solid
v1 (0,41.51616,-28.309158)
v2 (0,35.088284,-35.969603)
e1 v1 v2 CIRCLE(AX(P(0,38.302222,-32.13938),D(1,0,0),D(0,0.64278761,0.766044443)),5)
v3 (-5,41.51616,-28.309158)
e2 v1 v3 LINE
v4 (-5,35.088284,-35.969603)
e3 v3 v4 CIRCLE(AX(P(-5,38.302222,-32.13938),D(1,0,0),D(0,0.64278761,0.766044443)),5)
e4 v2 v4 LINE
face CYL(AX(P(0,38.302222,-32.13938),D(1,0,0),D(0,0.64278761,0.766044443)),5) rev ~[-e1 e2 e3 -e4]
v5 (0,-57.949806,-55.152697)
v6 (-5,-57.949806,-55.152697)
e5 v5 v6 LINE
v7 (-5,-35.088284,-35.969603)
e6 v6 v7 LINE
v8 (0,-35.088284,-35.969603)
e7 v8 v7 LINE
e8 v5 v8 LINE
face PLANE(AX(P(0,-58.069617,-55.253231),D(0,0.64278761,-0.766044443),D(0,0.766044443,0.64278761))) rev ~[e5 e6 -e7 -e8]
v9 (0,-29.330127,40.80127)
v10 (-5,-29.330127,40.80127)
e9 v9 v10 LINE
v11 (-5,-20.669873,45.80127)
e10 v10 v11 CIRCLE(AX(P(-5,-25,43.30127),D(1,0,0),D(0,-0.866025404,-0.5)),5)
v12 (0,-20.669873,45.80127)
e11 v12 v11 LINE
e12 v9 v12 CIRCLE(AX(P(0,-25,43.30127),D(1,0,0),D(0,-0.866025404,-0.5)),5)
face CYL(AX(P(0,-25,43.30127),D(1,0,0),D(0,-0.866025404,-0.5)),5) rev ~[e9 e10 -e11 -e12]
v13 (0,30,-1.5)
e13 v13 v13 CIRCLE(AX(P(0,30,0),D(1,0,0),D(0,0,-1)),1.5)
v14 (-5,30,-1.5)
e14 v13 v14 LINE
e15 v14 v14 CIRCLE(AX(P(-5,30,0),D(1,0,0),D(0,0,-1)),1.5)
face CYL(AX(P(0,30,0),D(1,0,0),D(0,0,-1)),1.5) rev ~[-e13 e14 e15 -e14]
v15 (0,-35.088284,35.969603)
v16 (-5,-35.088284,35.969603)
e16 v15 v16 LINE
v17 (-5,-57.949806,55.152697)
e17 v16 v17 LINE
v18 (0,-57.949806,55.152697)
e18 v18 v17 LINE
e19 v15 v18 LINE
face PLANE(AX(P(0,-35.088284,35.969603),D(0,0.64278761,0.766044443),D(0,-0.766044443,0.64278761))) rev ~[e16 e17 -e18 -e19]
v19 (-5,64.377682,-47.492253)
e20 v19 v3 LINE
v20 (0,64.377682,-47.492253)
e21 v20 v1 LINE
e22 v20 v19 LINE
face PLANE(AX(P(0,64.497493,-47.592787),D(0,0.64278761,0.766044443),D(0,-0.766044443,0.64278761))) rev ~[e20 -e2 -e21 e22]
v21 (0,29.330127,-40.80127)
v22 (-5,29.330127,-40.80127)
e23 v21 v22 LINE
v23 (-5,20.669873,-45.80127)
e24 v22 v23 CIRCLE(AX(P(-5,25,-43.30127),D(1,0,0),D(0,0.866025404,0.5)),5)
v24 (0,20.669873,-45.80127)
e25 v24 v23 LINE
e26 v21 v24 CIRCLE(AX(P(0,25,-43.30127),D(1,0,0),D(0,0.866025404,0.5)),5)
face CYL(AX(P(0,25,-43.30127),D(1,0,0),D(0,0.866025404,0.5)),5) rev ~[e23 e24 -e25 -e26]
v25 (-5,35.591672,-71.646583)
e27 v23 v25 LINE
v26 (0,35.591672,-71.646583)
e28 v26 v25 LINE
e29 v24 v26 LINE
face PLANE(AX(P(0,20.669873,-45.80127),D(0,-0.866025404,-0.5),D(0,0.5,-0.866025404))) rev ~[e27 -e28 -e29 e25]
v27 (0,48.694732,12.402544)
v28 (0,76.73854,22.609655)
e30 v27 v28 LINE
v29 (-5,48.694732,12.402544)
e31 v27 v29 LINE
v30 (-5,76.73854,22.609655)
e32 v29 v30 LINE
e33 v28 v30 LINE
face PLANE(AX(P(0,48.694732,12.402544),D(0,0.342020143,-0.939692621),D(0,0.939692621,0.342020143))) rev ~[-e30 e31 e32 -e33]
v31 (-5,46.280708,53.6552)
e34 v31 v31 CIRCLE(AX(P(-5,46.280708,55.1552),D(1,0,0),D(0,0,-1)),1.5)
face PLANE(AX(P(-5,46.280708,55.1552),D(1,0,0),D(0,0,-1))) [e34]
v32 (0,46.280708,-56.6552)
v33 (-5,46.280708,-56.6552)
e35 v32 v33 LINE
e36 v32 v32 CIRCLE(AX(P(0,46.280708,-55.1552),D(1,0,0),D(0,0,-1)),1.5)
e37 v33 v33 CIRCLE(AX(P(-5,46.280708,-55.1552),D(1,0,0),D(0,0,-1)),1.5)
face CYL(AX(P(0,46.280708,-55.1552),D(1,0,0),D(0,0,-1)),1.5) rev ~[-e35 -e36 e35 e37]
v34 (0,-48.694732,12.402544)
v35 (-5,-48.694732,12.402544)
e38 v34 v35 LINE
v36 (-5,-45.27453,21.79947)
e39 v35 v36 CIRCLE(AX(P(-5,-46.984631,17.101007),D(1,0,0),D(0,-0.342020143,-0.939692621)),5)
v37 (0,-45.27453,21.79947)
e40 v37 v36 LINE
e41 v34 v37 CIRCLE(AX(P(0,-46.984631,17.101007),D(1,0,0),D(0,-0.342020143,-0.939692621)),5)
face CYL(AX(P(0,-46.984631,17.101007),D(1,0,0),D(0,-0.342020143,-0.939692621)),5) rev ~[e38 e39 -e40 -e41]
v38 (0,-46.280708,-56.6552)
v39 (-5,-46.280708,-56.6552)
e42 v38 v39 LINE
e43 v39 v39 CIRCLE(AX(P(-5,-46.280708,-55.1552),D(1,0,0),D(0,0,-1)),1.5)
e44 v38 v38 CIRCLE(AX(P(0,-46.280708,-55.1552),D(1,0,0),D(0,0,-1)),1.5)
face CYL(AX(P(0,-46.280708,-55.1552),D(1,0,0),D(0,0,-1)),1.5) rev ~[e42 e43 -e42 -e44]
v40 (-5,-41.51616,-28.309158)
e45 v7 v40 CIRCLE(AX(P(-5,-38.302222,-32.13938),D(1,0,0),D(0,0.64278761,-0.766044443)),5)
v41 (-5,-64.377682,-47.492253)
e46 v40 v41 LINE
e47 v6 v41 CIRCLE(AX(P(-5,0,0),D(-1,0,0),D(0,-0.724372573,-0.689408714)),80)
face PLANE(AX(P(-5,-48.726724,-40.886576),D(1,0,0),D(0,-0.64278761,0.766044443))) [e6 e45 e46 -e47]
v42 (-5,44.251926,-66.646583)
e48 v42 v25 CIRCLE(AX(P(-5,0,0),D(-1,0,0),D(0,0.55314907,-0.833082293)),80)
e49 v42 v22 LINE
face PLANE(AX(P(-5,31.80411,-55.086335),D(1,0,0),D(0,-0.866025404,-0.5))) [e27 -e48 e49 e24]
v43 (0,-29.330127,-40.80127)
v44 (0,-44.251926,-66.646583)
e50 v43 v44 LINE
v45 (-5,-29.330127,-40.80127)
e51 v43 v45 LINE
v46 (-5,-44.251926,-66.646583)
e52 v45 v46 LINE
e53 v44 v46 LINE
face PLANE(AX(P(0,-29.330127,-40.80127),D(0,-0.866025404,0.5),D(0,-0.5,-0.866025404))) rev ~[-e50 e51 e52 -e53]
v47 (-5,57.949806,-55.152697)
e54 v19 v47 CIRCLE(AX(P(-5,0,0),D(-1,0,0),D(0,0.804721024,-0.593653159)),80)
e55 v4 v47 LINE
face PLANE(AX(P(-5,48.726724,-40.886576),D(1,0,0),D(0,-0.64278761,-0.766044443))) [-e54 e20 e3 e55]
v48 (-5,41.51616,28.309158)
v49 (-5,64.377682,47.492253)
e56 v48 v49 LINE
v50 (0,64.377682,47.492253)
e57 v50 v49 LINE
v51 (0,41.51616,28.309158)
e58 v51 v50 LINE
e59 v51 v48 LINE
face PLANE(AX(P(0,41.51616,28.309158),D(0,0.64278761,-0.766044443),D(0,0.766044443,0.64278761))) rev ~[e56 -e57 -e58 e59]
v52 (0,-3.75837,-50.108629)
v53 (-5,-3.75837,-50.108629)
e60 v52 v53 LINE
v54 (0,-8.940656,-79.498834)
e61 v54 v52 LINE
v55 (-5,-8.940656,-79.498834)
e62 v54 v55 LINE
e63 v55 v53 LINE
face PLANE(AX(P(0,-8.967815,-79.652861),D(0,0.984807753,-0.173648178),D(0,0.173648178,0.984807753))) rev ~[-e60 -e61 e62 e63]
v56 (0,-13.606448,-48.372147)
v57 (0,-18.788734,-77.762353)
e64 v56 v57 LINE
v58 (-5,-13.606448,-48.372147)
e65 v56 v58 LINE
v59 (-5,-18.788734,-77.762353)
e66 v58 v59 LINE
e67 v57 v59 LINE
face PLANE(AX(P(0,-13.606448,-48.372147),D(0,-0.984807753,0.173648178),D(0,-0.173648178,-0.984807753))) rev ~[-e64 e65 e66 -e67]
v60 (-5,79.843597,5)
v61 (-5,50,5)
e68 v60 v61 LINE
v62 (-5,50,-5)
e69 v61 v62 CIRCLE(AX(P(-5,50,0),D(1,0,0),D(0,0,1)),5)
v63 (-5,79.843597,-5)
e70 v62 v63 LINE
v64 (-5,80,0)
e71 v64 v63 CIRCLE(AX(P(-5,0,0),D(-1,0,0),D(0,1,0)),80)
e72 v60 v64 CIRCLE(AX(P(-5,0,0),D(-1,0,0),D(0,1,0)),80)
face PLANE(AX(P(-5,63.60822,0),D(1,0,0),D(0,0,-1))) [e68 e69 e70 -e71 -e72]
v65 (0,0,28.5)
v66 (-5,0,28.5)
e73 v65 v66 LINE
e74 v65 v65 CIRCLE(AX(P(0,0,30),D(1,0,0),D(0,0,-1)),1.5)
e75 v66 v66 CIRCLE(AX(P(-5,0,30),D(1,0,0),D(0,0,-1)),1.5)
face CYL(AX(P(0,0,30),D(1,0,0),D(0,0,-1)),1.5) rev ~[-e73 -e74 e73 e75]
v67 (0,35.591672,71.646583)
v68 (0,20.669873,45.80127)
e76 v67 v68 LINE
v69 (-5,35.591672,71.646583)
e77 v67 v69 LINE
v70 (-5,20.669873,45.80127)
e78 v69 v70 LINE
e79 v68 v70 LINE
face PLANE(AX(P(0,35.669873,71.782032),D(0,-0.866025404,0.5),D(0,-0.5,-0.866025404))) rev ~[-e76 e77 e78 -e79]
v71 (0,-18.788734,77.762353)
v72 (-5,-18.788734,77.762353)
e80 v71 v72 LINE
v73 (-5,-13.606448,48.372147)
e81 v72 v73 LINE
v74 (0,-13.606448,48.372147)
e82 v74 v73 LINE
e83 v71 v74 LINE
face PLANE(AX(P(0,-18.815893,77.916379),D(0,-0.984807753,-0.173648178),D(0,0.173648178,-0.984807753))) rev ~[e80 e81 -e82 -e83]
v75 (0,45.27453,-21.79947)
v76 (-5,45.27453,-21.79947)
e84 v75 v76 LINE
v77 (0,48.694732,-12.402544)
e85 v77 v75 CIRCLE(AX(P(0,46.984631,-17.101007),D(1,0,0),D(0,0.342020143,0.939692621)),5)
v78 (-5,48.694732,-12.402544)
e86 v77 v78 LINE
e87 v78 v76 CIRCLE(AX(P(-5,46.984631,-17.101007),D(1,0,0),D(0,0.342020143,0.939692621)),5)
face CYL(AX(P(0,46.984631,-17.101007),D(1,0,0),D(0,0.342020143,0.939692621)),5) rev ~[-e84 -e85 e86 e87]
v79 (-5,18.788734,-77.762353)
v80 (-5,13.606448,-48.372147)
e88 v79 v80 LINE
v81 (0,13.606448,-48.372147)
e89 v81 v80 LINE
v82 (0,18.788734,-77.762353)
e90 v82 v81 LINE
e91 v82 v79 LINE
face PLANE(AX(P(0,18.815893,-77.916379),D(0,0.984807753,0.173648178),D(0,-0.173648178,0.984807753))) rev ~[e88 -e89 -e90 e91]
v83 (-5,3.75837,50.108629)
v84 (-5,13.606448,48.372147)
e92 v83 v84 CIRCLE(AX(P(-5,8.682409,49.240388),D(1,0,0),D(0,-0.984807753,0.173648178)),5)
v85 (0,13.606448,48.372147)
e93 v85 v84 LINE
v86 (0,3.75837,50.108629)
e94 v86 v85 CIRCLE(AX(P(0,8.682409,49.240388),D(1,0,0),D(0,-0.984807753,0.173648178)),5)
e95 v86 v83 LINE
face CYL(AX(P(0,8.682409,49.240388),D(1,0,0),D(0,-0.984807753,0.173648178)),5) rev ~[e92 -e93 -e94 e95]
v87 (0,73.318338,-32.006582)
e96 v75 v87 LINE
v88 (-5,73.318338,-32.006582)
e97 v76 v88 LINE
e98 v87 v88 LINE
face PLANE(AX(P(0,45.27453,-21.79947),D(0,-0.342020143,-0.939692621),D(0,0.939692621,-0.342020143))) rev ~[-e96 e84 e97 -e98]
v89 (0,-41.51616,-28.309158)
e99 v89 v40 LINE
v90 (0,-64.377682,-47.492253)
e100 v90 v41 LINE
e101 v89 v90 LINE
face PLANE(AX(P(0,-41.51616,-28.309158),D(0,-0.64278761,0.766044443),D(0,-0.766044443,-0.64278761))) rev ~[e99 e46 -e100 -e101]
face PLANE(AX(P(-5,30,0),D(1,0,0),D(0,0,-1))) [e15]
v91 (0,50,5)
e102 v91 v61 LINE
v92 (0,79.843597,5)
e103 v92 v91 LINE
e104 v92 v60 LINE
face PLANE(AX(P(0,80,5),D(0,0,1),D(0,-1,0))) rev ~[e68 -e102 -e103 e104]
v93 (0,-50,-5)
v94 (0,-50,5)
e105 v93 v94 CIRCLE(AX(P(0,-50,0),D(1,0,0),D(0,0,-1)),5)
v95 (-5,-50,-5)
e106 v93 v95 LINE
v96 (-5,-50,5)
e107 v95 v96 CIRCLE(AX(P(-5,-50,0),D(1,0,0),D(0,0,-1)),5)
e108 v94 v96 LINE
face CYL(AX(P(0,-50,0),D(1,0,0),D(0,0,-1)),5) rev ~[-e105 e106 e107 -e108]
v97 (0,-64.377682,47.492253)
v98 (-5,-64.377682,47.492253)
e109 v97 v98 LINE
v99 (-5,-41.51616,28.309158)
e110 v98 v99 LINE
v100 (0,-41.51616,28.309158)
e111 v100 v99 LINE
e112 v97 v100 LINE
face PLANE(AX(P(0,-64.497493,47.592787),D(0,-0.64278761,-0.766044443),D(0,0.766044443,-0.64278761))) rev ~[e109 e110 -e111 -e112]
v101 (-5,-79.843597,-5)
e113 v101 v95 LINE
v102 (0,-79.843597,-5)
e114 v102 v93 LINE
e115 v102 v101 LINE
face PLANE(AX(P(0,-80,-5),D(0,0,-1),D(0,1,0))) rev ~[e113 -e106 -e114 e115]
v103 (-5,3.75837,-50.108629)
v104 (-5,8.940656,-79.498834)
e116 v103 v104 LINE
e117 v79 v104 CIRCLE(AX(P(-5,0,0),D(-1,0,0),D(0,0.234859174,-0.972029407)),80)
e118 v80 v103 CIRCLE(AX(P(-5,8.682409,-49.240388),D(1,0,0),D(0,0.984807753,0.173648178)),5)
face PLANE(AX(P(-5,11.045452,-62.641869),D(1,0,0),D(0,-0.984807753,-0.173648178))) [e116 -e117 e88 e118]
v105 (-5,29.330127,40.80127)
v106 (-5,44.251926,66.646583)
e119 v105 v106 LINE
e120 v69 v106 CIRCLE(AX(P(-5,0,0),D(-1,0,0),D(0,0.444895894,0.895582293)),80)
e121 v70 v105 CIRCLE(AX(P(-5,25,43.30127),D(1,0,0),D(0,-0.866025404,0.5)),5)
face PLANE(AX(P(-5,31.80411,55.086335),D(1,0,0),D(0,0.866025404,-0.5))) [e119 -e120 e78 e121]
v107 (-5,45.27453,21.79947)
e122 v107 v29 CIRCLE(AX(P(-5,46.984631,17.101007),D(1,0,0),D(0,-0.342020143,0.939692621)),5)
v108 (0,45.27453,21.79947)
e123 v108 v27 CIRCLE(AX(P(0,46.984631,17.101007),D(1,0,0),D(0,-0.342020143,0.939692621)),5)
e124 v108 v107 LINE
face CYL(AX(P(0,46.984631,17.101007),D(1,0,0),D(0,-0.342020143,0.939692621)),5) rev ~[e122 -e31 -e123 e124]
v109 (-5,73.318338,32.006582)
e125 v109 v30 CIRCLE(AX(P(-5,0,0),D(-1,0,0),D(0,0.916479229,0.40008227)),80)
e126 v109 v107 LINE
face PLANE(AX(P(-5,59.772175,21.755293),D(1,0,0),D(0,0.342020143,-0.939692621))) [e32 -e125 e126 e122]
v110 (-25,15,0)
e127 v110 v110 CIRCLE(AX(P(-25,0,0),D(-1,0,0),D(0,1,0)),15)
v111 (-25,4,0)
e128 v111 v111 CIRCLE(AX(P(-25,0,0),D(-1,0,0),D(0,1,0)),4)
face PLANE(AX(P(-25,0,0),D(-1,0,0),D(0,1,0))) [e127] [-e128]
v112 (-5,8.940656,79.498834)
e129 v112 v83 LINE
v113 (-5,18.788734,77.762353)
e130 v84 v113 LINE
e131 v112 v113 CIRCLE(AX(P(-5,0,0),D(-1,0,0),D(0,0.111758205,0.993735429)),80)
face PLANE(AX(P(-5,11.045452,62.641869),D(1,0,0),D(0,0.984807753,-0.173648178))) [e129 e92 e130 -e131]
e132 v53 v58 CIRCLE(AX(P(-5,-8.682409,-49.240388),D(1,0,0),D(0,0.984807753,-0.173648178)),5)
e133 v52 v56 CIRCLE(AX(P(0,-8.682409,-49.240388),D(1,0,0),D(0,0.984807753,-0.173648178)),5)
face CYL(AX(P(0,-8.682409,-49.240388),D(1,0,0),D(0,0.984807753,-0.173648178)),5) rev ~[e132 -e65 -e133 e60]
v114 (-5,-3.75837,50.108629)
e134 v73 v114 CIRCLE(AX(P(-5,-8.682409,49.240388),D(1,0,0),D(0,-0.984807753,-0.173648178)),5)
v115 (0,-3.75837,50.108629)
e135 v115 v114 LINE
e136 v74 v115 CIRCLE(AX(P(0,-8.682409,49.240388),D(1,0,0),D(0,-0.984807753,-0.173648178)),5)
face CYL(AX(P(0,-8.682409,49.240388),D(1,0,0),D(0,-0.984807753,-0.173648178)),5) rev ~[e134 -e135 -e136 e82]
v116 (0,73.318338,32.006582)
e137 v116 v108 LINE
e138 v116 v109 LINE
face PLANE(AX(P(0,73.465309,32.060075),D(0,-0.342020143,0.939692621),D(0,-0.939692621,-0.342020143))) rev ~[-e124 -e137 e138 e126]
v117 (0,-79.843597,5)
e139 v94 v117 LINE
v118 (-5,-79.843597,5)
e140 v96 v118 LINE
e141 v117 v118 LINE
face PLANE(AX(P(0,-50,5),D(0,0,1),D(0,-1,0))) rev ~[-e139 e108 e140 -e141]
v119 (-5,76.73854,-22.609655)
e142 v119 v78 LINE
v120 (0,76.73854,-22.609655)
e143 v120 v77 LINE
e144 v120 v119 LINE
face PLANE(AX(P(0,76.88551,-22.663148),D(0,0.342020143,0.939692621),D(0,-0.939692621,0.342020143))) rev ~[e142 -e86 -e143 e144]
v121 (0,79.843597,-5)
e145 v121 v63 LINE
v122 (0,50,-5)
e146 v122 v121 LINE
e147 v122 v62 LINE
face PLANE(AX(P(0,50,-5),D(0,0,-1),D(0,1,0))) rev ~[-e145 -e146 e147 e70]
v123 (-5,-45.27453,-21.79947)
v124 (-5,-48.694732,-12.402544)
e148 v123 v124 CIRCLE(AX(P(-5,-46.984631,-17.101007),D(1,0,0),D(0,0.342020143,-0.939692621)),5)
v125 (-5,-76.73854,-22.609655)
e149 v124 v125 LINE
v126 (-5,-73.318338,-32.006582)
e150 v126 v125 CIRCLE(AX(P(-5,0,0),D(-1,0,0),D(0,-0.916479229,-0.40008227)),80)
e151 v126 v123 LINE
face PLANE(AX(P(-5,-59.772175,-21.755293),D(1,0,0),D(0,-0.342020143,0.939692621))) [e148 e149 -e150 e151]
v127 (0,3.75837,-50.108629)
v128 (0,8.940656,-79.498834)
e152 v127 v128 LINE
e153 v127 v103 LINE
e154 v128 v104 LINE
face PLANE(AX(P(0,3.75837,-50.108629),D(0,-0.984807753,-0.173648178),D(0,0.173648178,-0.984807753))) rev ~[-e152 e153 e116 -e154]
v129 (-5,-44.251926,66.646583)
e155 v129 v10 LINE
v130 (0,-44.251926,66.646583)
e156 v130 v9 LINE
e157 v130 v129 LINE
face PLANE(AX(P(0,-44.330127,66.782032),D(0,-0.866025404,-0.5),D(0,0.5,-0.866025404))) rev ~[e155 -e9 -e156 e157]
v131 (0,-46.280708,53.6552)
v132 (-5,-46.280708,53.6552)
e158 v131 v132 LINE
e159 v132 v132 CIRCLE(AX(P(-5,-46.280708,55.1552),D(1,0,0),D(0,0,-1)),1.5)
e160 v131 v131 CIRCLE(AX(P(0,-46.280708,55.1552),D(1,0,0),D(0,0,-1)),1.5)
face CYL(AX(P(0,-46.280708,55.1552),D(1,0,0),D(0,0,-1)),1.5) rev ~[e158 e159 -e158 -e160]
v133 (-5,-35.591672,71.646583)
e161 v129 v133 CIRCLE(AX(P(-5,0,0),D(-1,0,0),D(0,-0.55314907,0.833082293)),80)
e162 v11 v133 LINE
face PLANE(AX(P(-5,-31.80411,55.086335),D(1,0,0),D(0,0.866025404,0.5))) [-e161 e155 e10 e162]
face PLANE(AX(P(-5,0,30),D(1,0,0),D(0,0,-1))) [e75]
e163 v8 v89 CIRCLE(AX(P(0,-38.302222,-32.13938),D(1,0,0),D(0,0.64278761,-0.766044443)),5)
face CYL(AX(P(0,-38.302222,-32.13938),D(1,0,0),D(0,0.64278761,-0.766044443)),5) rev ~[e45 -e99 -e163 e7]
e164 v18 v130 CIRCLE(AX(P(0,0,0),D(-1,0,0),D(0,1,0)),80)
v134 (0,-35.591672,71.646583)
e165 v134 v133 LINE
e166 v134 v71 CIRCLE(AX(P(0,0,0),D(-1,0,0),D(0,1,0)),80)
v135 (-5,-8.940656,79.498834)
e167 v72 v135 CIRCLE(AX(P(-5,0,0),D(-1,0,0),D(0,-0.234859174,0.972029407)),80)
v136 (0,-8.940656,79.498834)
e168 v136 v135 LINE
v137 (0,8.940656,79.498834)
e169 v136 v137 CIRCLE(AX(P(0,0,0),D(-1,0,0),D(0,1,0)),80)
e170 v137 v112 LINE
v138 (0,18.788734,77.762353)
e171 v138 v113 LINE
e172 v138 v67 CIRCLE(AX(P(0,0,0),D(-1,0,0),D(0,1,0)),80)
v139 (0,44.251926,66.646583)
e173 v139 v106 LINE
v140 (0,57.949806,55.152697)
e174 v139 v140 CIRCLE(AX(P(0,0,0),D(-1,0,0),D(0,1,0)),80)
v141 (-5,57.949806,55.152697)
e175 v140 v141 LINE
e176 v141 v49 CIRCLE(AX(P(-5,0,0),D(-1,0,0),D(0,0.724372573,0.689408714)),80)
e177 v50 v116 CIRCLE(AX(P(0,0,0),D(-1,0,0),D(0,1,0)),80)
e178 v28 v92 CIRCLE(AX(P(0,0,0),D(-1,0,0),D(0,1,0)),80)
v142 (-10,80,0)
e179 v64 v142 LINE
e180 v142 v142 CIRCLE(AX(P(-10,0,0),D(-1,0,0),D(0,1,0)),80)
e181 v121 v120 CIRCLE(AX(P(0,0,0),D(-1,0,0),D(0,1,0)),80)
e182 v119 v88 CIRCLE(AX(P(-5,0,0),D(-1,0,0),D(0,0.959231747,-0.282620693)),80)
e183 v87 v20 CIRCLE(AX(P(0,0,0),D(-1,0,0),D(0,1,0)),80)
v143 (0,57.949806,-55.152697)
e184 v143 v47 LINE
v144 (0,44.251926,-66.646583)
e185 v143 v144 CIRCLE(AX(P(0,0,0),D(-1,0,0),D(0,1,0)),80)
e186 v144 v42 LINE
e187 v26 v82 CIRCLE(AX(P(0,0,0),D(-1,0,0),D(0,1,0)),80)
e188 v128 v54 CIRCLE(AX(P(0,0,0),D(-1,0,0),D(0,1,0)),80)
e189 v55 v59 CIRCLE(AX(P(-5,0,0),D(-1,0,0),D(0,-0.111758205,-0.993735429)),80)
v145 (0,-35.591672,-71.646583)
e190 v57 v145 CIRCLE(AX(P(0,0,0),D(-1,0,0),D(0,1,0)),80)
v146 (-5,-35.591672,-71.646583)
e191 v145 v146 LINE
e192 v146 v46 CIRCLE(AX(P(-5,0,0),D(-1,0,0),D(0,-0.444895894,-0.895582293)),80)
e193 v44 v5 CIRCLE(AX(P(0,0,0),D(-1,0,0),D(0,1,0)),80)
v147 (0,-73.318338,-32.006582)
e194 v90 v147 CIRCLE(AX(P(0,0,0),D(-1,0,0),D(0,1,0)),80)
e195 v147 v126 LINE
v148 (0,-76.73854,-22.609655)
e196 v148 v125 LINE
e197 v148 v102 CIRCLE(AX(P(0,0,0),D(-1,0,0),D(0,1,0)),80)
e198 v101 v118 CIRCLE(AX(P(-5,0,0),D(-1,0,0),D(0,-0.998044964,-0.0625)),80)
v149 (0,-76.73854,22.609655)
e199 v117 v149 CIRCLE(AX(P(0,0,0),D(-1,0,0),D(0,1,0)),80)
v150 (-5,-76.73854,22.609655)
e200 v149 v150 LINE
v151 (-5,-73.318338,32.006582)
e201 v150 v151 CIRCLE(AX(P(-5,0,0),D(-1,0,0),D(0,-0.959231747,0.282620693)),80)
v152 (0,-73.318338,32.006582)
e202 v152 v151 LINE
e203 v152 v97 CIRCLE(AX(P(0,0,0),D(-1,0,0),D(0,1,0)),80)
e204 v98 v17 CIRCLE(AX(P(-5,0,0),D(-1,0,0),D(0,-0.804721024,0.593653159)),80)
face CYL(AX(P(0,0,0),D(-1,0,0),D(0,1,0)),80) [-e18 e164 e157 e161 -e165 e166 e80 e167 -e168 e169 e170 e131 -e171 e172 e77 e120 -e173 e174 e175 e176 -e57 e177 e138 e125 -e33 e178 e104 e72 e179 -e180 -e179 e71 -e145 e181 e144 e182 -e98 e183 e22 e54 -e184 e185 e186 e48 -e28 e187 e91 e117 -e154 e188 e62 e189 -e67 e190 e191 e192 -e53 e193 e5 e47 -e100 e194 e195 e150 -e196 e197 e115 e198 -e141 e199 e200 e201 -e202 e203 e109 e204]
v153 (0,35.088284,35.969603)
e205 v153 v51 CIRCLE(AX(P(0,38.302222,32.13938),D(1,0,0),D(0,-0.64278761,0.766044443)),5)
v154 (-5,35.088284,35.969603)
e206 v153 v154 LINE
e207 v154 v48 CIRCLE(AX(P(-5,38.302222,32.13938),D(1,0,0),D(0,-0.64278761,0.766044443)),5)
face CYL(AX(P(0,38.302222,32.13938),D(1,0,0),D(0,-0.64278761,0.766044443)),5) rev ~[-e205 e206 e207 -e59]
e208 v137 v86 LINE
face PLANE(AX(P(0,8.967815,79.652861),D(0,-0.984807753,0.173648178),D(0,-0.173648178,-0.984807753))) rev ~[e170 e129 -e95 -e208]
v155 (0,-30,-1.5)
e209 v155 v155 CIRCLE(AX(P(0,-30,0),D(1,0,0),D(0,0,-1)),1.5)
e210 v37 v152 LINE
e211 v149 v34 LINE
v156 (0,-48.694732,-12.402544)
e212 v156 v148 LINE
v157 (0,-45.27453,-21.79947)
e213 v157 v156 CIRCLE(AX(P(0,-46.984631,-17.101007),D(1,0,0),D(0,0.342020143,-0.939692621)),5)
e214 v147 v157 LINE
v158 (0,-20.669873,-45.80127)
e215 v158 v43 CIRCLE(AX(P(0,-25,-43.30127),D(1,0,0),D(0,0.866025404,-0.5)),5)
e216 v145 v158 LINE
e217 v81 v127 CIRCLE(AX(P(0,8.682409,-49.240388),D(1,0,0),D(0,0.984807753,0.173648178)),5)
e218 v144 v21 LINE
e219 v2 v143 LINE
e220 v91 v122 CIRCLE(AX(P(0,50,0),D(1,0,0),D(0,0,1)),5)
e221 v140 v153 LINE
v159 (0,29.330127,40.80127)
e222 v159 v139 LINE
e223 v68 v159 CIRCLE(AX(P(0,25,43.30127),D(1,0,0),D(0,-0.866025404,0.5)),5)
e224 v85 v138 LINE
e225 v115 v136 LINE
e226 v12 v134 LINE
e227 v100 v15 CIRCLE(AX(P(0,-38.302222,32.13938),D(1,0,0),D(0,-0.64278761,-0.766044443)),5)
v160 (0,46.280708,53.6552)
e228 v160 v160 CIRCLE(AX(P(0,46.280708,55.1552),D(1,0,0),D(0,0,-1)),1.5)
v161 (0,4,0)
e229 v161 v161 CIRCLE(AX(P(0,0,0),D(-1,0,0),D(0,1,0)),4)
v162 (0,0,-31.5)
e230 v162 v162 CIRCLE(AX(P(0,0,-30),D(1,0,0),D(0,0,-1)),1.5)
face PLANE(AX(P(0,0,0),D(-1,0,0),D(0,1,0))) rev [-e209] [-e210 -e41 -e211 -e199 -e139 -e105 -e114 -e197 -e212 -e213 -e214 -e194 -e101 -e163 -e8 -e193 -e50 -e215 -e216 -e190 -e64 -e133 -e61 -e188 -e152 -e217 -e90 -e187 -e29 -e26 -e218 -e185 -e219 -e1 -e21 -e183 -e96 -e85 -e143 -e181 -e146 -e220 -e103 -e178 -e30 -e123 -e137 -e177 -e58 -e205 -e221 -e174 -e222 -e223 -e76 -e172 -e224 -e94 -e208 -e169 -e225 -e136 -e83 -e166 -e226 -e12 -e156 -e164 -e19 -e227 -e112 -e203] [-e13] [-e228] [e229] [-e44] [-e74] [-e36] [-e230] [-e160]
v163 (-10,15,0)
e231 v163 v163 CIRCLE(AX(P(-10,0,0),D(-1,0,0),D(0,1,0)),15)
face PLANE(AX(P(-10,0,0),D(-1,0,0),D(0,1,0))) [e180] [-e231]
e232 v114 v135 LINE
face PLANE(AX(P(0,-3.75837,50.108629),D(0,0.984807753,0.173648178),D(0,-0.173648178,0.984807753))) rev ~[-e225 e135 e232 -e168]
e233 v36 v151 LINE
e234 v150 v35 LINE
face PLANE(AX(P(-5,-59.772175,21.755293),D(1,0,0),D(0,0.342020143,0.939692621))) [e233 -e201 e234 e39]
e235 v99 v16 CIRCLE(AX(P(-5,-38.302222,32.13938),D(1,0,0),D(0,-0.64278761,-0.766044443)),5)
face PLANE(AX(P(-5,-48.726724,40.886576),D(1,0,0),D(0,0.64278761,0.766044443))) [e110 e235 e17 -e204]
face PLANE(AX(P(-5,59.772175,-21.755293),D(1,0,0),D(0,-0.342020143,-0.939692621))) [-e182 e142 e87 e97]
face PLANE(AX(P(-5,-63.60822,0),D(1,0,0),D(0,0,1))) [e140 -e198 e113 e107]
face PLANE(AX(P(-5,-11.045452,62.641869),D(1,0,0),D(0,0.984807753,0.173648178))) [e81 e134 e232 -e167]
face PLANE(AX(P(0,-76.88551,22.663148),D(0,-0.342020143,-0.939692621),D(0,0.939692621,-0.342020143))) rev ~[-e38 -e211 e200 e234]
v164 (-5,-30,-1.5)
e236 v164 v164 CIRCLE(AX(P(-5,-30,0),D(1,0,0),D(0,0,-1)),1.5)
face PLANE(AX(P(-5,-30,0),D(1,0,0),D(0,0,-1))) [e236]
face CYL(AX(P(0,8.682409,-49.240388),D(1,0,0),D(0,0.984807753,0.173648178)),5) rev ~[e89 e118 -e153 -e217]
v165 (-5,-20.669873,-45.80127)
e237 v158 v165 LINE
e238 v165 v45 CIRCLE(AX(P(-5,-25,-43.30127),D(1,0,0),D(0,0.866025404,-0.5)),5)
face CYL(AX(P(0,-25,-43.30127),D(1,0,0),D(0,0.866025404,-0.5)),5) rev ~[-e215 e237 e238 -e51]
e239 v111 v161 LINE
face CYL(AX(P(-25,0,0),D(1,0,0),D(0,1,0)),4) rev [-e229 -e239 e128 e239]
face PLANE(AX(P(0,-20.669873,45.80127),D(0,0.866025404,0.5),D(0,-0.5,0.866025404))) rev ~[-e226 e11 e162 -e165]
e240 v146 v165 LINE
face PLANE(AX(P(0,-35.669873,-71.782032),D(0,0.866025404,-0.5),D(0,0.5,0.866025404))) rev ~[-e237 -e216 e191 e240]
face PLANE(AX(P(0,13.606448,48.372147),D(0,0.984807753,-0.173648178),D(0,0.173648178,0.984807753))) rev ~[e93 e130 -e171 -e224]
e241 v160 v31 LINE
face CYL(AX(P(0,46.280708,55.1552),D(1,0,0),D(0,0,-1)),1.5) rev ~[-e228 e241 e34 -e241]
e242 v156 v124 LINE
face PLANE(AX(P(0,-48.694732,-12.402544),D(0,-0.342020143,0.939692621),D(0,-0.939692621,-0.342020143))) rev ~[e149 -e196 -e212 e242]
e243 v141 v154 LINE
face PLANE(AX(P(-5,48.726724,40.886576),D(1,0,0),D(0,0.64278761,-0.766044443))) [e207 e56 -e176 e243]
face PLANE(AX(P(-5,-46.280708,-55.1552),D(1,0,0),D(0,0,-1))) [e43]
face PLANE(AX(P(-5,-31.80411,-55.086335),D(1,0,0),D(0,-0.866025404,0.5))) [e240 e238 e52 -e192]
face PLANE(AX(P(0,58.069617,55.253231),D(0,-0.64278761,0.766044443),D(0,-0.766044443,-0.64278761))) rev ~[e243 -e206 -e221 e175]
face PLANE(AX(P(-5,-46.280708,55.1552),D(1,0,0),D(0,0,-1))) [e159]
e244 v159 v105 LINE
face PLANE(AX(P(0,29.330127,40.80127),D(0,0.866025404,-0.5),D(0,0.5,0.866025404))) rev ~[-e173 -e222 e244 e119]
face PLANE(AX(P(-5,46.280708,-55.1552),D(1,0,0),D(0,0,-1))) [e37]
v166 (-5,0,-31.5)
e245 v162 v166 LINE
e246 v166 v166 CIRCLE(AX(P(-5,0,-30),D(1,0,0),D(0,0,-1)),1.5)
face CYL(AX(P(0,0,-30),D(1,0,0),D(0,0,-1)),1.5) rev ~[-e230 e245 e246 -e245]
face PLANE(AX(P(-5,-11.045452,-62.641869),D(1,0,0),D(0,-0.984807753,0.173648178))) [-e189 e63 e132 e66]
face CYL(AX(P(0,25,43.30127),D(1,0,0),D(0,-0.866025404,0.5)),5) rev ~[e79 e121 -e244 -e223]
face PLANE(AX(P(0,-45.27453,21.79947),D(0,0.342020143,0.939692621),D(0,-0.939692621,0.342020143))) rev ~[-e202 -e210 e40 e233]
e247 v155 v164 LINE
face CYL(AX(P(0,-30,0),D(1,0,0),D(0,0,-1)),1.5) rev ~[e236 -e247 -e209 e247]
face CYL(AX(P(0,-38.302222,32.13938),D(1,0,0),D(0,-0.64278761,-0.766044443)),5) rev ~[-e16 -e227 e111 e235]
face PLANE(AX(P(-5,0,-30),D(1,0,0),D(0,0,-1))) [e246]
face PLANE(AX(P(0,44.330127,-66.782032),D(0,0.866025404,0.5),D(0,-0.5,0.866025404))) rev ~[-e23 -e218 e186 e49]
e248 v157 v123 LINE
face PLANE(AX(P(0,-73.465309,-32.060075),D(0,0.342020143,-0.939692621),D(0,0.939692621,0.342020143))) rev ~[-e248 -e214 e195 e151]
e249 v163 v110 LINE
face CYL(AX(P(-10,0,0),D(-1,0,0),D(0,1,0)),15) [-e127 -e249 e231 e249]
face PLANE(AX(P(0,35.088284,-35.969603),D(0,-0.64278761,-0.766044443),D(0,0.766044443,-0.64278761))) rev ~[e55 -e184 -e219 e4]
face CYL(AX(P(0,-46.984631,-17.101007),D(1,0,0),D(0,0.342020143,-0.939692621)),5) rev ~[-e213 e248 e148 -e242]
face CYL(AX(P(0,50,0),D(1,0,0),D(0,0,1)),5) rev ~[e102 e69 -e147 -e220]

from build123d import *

# Parameters (mm, degrees)
CUT_EXTRUDE1_DEPTH = 5
CIRPATTERN1_COUNT  = 18
SKETCH4_R          = 1.5
CUT_EXTRUDE3_DEPTH = 5


with BuildPart() as part:
    # Sketch1 → Revolve2 (revolve)
    with BuildSketch(Plane.XY):
        Polygon((0, 4), (0, 80), (-10, 80), (-10, 15), (-25, 15), (-25, 4), align=None)
    revolve(axis=Axis((0, 0, 0), (-1, 0, 0)))

    # Sketch2 → Cut-Extrude1 (cut)
    with BuildSketch(Plane(origin=(0, 0, 0), x_dir=(0, 0, -1), z_dir=(1, 0, 0))):
        with BuildLine():
            Line((5, 50), (5, 80))
            Line((5, 80), (-5, 80))
            Line((-5, 80), (-5, 50))
            ThreePointArc((-5, 50), (0, 45), (5, 50))
        make_face()
    cut_extrude1 = extrude(amount=-CUT_EXTRUDE1_DEPTH, mode=Mode.SUBTRACT)

    # CirPattern1: Cut-Extrude1 ×18 about axis
    cirpattern1_axis = Axis((0, 0, 0), (1, 0, 0))
    for i in range(1, CIRPATTERN1_COUNT):
        add(cut_extrude1.rotate(cirpattern1_axis, i * 360 / CIRPATTERN1_COUNT), mode=Mode.SUBTRACT)

    # Sketch4 → Cut-Extrude3 (cut)
    with BuildSketch(Plane(origin=(0, 0, 0), x_dir=(0, 0, -1), z_dir=(1, 0, 0))):
        with Locations((-55.155199905, 46.280707897)):
            Circle(SKETCH4_R)
        with Locations((55.155199905, 46.280707897)):
            Circle(SKETCH4_R)
        with Locations((55.155199905, -46.280707897)):
            Circle(SKETCH4_R)
        with Locations((-55.155199905, -46.280707897)):
            Circle(SKETCH4_R)
        with Locations((0, 30)):
            Circle(SKETCH4_R)
        with Locations((30, 0)):
            Circle(SKETCH4_R)
        with Locations((0, -30)):
            Circle(SKETCH4_R)
        with Locations((-30, 0)):
            Circle(SKETCH4_R)
    extrude(amount=-CUT_EXTRUDE3_DEPTH, mode=Mode.SUBTRACT)


solid = part.part
